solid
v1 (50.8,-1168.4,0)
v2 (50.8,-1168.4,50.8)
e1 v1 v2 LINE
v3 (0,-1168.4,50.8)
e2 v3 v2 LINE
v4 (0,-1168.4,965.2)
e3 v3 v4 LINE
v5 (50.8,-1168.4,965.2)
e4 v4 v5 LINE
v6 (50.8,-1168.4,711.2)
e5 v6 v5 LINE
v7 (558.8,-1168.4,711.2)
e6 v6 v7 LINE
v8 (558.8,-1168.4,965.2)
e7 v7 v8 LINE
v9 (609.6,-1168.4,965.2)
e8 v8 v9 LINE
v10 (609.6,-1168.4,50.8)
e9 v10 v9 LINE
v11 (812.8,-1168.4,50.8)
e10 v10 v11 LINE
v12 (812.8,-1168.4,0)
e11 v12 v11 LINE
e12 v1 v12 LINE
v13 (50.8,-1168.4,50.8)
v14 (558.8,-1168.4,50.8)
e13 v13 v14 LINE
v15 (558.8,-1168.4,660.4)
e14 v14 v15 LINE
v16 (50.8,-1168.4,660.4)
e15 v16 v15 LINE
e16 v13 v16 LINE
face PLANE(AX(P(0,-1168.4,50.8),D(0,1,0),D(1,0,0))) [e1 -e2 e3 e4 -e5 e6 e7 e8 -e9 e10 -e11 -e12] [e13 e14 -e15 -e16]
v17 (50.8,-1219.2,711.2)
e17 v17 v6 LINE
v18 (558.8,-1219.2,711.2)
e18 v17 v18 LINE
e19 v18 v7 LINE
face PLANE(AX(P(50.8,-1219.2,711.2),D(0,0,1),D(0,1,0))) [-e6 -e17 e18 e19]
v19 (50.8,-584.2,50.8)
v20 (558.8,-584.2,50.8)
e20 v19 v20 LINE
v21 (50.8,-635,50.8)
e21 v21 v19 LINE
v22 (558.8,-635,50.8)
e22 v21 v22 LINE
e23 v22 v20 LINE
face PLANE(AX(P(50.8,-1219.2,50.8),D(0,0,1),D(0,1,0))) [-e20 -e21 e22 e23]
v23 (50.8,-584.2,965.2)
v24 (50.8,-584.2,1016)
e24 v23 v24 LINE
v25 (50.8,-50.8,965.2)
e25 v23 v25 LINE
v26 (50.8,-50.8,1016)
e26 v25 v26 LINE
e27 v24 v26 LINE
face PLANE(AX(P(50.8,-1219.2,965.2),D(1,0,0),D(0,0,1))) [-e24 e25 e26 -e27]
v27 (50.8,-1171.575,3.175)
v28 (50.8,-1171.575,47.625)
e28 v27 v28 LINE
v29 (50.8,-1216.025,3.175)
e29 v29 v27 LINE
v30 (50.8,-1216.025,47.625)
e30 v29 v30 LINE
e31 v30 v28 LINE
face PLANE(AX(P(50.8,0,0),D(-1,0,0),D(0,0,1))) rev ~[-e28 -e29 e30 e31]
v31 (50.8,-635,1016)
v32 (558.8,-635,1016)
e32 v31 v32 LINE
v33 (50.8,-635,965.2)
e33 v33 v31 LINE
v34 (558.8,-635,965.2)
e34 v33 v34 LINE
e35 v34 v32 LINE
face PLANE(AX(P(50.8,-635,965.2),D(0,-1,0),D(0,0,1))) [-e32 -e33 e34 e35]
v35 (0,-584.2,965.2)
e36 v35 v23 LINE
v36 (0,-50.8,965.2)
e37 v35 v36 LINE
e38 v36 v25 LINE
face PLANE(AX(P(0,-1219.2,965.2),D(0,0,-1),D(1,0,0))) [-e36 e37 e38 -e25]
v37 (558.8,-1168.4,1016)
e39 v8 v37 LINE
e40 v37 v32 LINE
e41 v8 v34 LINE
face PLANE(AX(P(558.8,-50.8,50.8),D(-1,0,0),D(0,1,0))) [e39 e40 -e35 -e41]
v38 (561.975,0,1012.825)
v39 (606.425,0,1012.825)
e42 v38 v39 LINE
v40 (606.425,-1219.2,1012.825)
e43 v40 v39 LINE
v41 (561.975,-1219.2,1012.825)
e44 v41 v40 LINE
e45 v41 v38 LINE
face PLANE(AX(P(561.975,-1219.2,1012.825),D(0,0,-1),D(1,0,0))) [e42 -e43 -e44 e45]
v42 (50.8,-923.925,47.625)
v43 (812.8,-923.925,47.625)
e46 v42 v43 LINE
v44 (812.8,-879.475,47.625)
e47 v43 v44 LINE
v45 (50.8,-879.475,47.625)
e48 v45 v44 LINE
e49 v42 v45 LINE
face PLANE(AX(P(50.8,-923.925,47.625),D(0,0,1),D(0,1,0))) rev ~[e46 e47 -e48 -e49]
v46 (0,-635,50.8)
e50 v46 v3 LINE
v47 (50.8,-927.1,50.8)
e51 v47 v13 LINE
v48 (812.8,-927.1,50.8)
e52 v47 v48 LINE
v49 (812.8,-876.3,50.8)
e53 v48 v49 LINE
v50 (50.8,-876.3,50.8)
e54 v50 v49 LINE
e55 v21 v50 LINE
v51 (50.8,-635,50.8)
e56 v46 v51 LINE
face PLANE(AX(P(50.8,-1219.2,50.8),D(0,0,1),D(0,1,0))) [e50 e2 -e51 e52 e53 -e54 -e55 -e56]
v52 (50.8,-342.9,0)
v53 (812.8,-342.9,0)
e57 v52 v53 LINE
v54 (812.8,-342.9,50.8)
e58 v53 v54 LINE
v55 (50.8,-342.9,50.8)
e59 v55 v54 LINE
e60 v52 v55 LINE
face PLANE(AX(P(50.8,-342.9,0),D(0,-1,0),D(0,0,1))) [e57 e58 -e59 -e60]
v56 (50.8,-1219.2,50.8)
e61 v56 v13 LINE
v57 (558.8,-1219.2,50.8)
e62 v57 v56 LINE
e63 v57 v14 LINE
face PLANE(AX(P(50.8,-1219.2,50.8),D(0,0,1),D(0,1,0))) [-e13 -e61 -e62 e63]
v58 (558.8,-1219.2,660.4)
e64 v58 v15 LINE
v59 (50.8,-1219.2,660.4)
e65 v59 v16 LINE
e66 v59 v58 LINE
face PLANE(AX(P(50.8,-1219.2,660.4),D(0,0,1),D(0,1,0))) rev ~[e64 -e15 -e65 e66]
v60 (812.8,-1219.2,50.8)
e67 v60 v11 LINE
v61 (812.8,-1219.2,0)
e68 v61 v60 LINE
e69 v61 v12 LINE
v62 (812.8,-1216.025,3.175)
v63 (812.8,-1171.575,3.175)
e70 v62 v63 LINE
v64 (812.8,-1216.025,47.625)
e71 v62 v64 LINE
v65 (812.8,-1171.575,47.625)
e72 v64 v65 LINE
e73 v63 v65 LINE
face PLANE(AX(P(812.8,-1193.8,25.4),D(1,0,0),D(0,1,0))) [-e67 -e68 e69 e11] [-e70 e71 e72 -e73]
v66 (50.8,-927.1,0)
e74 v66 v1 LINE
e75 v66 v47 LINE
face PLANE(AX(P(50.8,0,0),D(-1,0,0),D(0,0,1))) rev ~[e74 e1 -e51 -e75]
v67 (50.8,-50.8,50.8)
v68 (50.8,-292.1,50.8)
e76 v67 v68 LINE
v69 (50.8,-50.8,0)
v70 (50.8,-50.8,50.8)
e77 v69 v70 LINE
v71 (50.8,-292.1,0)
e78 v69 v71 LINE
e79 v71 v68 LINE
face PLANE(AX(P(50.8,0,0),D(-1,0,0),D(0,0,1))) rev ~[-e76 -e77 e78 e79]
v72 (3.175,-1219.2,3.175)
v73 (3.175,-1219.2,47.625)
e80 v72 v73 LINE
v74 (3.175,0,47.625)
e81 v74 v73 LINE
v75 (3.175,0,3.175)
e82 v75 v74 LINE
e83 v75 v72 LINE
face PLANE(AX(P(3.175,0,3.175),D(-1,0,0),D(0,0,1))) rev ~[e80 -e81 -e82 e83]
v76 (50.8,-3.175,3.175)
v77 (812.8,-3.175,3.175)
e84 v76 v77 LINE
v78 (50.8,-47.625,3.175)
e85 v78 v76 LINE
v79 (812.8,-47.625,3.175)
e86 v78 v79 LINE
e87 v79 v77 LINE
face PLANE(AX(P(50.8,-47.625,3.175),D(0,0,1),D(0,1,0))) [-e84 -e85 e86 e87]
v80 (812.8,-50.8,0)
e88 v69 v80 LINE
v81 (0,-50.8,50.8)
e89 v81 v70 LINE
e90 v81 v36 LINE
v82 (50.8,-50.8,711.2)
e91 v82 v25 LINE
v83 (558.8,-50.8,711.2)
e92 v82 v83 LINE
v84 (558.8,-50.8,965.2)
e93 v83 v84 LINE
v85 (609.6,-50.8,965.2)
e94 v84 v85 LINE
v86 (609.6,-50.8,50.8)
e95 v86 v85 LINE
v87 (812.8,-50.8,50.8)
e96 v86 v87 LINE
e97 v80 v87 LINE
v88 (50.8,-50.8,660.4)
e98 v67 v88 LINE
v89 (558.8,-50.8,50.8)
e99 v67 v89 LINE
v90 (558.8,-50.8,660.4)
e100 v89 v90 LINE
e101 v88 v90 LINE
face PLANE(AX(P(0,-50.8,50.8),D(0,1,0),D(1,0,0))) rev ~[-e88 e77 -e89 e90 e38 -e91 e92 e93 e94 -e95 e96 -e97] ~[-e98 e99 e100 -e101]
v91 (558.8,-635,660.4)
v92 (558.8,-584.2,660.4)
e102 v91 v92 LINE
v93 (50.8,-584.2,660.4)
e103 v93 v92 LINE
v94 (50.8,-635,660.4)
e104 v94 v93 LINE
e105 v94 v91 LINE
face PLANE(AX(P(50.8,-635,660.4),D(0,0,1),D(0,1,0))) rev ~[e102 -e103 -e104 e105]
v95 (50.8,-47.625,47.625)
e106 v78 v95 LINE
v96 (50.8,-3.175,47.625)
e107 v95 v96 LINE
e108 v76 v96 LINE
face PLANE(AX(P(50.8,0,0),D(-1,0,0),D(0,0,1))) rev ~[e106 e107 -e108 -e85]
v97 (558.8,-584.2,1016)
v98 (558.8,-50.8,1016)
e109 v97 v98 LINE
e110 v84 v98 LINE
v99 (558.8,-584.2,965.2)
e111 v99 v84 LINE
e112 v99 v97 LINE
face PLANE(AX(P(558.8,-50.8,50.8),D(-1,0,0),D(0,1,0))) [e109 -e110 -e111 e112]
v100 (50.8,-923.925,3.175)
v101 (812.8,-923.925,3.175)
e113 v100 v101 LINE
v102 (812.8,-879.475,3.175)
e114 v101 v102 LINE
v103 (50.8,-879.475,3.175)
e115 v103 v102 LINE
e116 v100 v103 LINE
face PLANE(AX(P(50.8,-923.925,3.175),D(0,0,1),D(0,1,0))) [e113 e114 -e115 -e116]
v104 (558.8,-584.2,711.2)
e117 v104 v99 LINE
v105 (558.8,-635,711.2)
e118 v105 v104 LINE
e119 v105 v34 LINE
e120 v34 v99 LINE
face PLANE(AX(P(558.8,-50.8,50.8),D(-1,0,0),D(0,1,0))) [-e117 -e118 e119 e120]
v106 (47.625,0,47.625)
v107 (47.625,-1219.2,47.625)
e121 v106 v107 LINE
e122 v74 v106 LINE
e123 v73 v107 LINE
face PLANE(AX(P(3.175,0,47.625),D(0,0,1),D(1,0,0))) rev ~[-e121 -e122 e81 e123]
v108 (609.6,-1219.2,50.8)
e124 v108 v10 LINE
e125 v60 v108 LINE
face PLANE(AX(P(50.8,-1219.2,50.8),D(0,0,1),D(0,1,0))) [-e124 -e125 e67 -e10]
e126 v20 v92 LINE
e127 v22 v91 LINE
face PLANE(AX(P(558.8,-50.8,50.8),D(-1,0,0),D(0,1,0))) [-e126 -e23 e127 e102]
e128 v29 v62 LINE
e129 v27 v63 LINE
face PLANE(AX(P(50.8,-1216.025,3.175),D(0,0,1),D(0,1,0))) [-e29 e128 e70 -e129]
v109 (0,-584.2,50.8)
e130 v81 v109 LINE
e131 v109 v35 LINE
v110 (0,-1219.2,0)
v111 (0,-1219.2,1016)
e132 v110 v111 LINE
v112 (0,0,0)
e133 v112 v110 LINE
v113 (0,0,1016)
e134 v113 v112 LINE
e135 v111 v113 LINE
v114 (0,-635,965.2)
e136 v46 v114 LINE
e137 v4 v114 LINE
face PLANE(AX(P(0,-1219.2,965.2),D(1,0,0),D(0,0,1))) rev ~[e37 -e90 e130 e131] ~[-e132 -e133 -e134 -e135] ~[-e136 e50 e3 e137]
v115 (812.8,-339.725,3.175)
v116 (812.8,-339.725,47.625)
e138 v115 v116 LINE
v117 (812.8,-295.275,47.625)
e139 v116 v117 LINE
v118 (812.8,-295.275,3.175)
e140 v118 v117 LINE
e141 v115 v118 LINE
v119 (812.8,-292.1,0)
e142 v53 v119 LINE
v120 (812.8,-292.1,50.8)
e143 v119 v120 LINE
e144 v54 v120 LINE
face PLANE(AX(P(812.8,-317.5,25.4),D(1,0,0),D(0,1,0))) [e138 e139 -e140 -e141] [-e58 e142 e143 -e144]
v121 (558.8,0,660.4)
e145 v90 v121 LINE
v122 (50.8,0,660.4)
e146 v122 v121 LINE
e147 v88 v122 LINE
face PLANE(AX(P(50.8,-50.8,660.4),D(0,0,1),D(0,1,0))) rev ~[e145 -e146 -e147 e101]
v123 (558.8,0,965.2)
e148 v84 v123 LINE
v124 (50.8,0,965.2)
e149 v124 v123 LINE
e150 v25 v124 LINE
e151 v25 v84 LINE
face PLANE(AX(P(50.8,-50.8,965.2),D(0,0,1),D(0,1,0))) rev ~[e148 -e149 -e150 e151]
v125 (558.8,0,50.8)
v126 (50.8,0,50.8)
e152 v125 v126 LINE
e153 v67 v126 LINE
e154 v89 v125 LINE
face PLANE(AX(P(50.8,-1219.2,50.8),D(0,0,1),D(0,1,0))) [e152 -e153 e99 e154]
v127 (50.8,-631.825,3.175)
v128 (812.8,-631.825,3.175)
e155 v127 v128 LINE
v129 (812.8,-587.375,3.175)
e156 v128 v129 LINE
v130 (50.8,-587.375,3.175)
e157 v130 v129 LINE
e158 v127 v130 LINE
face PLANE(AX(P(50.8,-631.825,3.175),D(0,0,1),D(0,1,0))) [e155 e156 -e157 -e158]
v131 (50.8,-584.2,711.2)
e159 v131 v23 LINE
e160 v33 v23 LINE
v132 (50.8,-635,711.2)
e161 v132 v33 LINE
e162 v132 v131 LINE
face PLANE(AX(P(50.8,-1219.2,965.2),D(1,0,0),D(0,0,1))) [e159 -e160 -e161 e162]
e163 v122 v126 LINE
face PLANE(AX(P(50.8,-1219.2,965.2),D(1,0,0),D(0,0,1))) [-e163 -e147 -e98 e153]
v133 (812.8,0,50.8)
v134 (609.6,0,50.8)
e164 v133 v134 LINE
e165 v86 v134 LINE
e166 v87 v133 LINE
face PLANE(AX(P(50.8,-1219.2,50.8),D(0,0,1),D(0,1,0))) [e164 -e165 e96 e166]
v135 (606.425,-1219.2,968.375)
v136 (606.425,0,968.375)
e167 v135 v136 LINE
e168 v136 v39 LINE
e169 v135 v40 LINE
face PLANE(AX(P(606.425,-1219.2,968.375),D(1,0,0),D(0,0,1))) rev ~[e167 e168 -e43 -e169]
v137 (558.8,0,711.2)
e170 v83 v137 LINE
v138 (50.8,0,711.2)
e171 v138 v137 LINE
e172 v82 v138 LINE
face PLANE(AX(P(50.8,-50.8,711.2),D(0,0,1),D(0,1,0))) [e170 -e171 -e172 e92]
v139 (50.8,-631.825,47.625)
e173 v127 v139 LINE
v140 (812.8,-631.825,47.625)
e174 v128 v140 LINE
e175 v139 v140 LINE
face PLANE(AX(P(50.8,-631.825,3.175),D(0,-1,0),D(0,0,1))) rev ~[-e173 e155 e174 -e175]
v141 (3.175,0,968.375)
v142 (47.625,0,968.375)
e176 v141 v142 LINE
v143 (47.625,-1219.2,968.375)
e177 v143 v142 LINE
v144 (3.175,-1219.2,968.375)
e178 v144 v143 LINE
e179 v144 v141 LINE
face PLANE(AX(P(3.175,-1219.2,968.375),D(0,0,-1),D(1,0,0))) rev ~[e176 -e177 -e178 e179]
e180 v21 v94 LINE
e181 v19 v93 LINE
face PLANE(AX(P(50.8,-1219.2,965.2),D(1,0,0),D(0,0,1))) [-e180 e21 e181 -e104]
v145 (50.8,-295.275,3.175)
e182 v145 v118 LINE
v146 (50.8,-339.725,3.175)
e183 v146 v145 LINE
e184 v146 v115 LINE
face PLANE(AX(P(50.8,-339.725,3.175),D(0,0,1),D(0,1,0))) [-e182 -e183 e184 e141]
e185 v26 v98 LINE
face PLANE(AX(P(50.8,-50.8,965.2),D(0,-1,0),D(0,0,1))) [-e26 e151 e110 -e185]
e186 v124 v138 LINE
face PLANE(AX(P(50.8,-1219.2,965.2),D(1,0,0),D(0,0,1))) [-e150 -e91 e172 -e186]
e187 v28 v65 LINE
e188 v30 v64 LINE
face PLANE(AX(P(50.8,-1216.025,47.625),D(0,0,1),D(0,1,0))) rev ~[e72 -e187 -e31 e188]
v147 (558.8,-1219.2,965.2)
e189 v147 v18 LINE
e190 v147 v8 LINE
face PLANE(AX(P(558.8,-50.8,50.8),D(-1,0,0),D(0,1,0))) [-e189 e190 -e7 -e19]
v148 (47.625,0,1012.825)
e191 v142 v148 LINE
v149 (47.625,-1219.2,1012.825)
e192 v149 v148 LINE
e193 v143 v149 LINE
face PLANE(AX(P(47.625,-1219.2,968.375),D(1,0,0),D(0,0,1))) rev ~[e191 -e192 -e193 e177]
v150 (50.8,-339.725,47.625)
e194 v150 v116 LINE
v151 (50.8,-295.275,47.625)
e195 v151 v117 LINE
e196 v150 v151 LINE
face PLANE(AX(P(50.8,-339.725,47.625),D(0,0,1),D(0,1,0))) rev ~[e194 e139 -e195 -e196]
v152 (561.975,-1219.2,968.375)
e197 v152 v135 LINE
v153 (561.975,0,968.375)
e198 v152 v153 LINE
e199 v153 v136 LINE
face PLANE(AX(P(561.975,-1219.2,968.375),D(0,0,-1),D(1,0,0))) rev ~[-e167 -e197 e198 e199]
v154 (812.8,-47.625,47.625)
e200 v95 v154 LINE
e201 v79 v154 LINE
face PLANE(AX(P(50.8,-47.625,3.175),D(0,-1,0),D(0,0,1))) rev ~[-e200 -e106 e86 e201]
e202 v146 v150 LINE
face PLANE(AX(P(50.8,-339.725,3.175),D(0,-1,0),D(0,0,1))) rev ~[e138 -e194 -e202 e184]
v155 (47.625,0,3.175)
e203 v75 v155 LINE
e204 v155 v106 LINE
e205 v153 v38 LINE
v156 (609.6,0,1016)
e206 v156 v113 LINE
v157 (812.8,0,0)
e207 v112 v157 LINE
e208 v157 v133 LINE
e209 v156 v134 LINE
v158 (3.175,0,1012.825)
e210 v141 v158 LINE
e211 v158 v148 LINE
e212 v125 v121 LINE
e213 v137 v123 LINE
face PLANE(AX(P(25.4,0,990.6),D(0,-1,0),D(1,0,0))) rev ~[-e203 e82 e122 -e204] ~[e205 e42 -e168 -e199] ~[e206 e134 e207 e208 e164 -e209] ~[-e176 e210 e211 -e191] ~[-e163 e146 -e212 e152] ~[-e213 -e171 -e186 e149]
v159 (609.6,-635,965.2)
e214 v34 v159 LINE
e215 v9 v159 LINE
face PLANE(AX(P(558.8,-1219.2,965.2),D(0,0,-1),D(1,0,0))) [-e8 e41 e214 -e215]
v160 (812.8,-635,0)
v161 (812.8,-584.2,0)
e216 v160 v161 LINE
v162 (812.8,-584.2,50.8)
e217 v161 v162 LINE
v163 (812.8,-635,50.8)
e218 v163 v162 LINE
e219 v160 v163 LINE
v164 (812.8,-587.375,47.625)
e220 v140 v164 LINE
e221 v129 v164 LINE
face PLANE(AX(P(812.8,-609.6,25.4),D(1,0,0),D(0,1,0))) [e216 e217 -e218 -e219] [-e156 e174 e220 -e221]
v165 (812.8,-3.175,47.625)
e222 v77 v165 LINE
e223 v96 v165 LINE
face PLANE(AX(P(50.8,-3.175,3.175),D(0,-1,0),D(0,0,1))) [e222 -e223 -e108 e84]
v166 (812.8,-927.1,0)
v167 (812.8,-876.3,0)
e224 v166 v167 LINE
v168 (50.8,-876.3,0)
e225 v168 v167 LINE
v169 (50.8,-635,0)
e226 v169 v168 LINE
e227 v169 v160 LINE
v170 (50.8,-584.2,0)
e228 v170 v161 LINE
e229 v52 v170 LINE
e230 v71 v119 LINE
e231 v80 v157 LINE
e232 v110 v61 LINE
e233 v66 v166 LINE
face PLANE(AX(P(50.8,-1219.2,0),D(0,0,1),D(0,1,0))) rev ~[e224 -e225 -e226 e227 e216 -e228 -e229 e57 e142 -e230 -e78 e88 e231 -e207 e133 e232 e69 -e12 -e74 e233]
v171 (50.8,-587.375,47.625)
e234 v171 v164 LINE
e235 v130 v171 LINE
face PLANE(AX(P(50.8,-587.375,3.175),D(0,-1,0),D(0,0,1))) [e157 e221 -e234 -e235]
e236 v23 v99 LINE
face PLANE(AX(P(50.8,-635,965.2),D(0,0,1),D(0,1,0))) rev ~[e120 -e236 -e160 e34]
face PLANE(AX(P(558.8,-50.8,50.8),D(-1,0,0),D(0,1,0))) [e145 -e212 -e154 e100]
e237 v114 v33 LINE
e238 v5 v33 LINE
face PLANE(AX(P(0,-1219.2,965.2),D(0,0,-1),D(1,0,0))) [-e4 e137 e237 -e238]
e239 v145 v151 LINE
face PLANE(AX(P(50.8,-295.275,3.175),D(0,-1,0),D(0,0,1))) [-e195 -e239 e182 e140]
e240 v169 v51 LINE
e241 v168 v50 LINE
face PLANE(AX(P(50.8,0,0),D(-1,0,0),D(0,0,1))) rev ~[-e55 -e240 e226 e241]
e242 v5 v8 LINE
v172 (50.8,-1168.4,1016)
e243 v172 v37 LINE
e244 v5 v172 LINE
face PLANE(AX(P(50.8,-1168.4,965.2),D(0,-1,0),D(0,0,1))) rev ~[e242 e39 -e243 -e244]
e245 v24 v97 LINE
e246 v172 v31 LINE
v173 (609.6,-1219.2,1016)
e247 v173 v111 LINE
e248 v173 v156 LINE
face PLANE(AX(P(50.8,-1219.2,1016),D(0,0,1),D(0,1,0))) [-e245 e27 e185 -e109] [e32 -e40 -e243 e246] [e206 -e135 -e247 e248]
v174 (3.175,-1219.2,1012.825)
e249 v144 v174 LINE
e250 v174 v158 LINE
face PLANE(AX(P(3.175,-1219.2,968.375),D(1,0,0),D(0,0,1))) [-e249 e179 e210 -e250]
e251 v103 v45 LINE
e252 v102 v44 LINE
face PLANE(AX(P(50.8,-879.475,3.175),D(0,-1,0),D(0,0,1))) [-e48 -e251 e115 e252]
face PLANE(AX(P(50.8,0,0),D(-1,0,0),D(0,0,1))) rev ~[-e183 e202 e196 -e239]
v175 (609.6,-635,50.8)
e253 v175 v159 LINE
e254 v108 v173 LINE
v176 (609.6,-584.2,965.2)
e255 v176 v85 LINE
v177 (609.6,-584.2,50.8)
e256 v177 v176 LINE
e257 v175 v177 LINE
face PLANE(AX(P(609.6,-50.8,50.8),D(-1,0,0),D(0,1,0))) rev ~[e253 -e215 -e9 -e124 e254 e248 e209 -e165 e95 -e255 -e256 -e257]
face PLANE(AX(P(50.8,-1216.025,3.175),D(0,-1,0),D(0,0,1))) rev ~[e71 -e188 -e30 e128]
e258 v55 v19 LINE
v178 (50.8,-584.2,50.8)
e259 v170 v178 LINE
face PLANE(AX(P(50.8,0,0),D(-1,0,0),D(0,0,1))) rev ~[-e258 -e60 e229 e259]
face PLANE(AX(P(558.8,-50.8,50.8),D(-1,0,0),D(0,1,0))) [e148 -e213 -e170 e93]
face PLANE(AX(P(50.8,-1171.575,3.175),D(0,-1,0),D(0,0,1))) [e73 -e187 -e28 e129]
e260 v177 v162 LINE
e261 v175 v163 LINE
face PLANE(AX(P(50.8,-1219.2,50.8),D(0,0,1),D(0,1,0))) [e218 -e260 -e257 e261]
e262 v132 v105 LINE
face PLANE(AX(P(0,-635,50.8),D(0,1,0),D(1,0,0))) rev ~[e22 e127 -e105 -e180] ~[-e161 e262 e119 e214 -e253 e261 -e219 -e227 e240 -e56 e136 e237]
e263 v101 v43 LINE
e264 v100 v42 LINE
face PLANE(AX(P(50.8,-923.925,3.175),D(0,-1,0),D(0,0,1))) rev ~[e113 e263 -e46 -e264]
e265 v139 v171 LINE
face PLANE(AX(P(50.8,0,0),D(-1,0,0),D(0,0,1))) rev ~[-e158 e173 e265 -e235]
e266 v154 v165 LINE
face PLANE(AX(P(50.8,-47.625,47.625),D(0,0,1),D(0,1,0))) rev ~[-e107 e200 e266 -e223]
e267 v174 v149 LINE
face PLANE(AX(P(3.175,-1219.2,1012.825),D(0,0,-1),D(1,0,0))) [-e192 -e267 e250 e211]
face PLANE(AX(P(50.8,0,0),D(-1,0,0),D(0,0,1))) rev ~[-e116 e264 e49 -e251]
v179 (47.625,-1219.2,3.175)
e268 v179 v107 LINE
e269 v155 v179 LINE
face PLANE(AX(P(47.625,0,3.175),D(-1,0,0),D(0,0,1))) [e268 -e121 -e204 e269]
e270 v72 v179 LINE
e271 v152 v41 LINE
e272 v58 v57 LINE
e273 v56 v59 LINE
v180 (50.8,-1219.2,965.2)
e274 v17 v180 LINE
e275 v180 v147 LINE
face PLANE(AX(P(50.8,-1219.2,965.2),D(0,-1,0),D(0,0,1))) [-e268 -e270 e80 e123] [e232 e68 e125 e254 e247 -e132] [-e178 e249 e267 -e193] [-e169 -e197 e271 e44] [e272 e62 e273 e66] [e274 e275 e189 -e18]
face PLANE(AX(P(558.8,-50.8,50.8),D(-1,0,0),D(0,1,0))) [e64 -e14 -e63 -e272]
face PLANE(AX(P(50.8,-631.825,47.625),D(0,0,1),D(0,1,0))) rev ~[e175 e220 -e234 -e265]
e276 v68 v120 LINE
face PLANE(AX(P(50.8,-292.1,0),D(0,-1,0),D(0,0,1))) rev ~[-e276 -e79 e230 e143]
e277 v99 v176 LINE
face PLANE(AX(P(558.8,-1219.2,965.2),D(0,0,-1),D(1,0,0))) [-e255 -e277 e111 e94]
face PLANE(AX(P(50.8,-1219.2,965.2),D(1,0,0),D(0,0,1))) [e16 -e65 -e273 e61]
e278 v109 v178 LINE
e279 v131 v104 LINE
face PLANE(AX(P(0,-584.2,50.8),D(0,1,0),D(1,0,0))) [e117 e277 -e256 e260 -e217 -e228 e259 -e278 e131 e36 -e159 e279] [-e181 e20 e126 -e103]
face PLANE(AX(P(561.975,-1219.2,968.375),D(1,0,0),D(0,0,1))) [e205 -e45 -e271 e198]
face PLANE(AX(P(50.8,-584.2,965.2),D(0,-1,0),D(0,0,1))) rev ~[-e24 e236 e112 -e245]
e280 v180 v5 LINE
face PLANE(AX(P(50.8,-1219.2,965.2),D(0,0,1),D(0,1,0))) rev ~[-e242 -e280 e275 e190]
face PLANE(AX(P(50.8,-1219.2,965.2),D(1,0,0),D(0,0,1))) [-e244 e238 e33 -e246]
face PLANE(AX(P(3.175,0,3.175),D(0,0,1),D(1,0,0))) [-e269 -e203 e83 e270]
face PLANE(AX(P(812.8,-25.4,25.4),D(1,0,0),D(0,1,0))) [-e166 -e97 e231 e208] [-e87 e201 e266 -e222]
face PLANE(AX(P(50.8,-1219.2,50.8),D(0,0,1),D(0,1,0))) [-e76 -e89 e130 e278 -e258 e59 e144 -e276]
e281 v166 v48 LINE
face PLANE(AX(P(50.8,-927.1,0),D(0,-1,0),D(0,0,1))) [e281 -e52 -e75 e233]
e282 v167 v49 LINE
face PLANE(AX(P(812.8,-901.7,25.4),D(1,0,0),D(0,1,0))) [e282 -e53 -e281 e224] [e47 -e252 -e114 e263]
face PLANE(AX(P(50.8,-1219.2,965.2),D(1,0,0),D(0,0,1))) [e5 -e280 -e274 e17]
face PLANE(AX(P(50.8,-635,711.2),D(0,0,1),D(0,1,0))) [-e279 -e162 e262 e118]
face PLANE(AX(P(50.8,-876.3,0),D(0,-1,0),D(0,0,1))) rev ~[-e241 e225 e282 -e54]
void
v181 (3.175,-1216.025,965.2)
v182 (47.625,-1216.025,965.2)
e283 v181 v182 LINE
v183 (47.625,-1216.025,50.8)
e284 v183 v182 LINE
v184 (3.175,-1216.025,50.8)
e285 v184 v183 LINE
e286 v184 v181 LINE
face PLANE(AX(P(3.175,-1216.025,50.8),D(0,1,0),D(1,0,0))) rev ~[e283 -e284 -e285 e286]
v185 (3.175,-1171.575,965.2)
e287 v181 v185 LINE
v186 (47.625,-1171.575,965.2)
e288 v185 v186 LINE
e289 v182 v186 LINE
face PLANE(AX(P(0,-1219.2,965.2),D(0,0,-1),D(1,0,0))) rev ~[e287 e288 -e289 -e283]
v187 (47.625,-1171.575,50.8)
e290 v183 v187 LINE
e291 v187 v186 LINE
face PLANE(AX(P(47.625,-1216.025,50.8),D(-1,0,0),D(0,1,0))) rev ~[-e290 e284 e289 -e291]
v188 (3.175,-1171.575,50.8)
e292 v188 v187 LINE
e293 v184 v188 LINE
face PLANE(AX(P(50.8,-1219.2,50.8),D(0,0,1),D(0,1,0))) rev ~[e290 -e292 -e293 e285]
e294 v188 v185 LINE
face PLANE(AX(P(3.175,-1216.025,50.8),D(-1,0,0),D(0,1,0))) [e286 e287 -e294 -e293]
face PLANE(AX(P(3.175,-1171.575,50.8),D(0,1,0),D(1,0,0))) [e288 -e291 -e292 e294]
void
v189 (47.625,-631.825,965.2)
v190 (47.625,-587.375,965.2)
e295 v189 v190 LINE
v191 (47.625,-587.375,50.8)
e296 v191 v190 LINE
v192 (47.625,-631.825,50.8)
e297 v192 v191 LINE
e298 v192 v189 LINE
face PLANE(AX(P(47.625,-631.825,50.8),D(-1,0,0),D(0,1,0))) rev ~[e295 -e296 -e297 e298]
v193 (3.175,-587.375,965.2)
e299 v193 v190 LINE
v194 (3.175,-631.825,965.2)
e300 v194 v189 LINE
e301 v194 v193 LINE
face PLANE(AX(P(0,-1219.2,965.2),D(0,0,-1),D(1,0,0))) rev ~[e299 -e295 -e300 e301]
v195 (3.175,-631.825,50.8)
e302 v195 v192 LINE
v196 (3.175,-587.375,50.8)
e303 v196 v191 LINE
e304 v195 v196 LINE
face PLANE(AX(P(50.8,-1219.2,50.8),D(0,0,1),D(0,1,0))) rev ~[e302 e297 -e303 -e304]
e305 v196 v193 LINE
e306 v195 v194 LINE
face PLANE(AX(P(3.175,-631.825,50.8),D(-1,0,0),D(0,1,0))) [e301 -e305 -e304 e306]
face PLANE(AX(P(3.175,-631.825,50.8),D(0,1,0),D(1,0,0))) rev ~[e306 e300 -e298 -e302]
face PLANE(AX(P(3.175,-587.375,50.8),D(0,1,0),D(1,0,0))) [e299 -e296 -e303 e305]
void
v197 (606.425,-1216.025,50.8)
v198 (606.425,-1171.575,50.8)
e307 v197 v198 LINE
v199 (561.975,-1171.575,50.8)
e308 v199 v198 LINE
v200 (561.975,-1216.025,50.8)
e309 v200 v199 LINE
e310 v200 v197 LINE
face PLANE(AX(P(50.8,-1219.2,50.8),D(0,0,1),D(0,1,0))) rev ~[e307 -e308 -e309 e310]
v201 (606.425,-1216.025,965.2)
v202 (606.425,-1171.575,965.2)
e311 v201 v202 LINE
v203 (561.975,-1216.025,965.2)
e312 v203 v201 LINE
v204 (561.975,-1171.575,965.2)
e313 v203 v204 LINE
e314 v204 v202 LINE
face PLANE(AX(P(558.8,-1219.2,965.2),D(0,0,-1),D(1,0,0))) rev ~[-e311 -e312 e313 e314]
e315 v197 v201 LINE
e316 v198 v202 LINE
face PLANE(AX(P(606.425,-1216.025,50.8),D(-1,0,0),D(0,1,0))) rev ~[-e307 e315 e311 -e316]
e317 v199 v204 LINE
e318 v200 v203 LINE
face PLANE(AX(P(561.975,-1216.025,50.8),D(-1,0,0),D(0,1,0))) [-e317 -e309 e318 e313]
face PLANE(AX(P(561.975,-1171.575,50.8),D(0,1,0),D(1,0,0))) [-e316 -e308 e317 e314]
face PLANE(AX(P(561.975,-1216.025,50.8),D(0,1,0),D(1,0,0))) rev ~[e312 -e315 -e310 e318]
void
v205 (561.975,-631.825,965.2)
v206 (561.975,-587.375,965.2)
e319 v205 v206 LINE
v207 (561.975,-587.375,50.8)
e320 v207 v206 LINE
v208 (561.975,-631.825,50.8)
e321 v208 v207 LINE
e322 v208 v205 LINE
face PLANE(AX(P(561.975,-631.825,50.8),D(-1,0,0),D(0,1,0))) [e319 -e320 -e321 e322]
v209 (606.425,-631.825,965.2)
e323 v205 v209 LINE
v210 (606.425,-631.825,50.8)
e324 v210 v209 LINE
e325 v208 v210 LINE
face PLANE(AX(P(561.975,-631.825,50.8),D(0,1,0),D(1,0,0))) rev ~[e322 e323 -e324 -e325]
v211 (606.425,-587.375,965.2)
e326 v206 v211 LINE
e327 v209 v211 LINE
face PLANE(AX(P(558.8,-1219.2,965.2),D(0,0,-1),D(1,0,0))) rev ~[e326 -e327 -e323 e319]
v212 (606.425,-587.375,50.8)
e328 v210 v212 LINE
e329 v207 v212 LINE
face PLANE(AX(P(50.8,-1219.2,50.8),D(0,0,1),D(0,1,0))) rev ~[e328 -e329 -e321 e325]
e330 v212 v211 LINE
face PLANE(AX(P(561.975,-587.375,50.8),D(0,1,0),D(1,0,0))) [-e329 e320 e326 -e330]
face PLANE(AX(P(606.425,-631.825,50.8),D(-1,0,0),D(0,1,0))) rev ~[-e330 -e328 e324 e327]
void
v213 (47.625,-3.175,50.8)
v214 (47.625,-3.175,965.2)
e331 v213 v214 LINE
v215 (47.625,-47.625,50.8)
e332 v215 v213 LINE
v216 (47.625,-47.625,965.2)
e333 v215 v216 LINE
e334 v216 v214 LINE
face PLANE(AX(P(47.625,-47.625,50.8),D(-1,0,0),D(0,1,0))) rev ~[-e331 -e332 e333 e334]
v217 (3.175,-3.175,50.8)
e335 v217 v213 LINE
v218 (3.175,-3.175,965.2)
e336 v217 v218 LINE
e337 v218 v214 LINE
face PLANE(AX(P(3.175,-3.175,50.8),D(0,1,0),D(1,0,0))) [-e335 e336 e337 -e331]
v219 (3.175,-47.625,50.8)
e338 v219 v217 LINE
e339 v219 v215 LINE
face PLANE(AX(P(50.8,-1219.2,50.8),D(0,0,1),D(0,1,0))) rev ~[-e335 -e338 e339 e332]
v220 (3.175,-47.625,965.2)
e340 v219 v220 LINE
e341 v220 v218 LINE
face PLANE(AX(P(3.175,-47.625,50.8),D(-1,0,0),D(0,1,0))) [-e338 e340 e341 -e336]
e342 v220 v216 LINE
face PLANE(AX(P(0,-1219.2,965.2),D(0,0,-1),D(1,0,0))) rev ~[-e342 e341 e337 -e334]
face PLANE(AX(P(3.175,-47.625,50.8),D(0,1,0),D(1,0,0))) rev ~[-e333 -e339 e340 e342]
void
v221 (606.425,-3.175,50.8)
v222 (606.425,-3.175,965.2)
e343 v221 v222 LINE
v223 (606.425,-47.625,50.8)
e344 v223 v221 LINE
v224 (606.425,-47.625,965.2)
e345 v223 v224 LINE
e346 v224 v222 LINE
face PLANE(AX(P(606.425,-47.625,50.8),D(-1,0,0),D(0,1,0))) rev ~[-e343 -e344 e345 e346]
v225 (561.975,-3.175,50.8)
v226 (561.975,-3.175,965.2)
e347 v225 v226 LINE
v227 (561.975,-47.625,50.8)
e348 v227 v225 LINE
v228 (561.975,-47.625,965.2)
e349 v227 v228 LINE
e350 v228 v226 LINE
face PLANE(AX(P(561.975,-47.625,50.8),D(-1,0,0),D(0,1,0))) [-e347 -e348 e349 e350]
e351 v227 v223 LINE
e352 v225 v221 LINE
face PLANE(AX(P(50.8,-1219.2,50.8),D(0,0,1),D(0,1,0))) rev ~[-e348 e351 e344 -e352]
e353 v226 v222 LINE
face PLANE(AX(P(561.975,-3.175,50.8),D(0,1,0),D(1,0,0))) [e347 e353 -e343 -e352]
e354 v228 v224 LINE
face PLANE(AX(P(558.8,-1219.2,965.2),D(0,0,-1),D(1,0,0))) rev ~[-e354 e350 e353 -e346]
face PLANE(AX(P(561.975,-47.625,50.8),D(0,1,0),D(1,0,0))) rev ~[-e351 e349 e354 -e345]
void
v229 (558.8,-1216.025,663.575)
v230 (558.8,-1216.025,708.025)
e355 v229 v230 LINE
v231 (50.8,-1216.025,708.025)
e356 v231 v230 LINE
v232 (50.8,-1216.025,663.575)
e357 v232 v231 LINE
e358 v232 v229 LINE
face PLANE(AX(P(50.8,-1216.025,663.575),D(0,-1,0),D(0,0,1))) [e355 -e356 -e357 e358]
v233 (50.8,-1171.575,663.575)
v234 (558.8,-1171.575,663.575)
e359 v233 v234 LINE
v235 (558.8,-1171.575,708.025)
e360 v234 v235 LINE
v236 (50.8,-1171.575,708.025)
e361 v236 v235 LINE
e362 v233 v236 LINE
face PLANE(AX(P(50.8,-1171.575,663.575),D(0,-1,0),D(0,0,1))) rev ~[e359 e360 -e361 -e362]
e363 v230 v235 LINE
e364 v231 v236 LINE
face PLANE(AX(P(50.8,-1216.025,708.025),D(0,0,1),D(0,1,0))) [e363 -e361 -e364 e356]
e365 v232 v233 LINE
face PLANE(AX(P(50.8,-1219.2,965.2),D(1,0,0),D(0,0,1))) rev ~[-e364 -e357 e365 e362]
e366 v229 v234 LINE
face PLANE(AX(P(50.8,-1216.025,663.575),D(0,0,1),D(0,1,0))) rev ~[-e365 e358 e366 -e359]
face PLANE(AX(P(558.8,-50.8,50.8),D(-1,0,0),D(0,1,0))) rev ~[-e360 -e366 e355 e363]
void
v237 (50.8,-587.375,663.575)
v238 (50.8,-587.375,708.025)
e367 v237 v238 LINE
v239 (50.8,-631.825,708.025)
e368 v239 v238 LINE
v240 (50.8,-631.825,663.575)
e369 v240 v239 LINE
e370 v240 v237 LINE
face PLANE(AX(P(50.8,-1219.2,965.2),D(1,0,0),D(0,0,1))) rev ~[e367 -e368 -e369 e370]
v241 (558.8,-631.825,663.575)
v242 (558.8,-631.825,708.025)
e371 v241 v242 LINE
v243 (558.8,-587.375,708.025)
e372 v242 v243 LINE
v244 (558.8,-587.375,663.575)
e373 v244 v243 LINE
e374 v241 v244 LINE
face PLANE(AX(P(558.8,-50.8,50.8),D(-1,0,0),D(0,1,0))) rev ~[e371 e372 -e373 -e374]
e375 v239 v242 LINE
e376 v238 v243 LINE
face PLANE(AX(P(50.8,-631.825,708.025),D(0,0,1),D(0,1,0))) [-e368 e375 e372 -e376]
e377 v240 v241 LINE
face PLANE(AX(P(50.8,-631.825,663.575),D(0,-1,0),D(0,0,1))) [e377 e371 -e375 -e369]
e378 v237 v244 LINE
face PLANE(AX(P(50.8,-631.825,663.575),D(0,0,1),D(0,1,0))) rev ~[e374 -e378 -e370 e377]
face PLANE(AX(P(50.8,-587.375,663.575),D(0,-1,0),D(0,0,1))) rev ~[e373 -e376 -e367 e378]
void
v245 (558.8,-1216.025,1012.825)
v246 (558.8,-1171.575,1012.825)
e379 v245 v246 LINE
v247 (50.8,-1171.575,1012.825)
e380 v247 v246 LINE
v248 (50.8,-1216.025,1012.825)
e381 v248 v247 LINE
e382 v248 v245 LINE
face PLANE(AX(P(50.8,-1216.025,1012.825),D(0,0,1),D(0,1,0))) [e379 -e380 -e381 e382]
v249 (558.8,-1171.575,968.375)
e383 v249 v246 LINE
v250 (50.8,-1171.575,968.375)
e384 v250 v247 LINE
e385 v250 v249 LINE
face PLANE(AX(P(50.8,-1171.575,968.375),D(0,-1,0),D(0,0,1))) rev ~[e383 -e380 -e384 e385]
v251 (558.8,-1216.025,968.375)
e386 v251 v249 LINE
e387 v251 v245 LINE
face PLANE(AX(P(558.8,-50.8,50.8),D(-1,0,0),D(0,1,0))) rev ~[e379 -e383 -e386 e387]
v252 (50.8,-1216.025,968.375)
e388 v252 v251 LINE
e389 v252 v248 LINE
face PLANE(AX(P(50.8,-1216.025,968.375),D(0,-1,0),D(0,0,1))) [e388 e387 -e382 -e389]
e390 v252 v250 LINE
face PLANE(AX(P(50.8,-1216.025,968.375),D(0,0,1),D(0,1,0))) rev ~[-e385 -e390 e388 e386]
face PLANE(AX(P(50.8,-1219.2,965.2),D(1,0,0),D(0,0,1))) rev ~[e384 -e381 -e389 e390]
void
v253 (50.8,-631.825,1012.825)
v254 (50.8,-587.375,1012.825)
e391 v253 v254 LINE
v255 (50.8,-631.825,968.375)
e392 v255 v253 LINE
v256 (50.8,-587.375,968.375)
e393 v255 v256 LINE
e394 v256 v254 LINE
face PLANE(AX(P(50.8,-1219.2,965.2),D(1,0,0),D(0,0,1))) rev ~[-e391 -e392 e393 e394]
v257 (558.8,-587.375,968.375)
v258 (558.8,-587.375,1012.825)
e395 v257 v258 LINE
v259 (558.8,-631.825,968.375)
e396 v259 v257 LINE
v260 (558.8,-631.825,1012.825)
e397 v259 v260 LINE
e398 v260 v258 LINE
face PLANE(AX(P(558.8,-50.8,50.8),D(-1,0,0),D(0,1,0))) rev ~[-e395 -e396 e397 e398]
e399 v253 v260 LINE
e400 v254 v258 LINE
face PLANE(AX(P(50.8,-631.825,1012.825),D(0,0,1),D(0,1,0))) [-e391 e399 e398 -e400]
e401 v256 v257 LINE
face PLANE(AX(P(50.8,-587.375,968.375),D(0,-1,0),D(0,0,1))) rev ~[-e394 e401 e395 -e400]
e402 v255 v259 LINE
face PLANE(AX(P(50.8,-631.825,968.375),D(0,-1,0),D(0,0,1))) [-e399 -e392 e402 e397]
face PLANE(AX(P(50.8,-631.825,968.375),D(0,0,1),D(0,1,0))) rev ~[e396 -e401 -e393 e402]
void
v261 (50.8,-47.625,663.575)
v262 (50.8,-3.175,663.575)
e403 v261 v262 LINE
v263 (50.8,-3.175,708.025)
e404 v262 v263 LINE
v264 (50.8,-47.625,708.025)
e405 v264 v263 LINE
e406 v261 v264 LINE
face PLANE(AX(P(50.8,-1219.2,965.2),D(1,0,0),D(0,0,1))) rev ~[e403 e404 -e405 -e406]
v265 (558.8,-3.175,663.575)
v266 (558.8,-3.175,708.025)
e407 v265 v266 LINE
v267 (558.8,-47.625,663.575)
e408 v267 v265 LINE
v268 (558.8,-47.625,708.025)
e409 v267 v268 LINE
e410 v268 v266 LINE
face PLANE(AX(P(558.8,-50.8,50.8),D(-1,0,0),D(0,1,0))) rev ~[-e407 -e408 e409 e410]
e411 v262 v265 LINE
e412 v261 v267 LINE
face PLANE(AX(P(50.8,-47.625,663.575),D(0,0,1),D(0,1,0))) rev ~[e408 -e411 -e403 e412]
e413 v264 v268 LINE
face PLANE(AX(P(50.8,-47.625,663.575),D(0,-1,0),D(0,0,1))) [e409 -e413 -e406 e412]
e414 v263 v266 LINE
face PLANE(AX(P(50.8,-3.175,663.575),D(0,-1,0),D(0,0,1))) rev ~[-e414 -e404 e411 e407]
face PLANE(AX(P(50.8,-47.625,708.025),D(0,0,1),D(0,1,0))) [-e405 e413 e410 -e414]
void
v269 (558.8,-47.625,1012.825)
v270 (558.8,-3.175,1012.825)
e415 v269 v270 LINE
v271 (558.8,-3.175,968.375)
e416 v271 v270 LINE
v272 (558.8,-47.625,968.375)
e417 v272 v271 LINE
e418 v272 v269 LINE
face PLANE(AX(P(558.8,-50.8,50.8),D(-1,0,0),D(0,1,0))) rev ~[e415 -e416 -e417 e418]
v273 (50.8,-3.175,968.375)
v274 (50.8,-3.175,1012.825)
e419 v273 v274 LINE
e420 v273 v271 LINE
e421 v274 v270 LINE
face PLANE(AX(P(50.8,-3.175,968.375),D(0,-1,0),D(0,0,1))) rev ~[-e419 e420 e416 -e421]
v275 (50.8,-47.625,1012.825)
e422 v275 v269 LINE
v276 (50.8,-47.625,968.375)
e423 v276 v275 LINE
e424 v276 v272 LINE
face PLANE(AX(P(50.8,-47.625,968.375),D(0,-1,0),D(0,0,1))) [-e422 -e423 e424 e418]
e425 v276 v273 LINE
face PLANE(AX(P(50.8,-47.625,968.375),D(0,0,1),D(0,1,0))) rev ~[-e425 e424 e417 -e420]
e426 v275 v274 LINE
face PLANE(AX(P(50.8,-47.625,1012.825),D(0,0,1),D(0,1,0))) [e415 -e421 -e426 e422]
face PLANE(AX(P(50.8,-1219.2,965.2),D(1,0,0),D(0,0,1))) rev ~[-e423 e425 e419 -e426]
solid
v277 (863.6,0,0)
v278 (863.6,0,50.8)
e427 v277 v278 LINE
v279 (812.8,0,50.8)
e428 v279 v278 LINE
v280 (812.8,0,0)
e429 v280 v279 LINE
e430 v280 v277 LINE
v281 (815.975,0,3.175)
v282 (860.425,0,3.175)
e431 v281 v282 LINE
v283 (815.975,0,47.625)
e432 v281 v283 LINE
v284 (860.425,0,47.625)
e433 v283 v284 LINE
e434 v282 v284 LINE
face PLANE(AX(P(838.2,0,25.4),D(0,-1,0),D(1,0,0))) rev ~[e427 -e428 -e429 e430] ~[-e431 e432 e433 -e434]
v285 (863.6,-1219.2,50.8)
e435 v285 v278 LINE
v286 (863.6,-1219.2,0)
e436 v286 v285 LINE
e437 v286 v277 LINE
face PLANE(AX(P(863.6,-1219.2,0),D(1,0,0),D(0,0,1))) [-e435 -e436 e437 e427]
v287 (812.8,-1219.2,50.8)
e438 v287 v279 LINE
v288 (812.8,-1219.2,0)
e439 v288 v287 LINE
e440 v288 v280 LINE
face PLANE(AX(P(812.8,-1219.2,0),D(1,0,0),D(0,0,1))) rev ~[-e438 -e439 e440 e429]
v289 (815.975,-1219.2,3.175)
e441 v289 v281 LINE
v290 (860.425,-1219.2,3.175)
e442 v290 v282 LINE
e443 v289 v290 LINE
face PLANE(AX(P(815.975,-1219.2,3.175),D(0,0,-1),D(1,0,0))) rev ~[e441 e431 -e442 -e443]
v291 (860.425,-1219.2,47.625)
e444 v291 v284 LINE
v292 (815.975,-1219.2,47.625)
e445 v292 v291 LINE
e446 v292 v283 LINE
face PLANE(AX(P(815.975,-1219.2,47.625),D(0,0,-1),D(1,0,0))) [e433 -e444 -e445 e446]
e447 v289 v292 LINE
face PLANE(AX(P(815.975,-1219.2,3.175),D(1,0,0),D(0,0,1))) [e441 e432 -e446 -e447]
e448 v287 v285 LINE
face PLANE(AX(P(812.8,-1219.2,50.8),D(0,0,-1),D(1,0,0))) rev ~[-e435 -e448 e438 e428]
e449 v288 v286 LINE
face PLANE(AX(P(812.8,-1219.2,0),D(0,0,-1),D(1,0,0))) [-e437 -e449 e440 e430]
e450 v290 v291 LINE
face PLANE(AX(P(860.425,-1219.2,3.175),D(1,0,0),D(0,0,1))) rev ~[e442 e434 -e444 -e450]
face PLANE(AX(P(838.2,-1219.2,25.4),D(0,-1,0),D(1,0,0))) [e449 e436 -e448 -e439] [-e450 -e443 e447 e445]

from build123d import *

# Parameters (mm, degrees)
F0_W      = 50.8
F0_H      = 50.8
F0_W_2    = 44.45
F0_H_2    = 44.45
F1_DEPTH  = 1219.2
F2_W      = 50.8
F2_H      = 50.8
F2_W_2    = 44.45
F2_H_2    = 44.45
F3_DEPTH  = 762
F4_W      = 50.8
F4_H      = 50.8
F4_W_2    = 44.45
F4_H_2    = 44.45
F5_DEPTH  = 1219.2
F6_W      = 50.8
F6_H      = 50.8
F6_W_2    = 44.45
F6_H_2    = 44.45
F7_DEPTH  = 914.4
F8_W      = 50.8
F8_H      = 50.8
F8_W_2    = 44.45
F8_H_2    = 44.45
F9_DEPTH  = 1219.2
F10_W     = 50.8
F10_H     = 50.8
F10_W_2   = 44.45
F10_H_2   = 44.45
F11_DEPTH = 508


with BuildPart() as f1:
    # F0 (on Front) → F1 (new body)
    with BuildSketch(Plane.XZ):
        with Locations((25.4, 25.4)):
            Rectangle(F0_W, F0_H)
        with Locations((25.4, 25.4)):
            Rectangle(F0_W_2, F0_H_2, mode=Mode.SUBTRACT)
    extrude(amount=F1_DEPTH)

    # F2 (on face) → F3 (join)
    with BuildSketch(Plane.YZ.offset(50.8)):
        with Locations((-1193.8, 25.4)):
            Rectangle(F2_W, F2_H)
        with Locations((-1193.8, 25.4)):
            Rectangle(F2_W_2, F2_H_2, mode=Mode.SUBTRACT)
        with Locations((-901.7, 25.4)):
            Rectangle(F2_W, F2_H)
        with Locations((-901.7, 25.4)):
            Rectangle(F2_W_2, F2_H_2, mode=Mode.SUBTRACT)
        with Locations((-609.6, 25.4)):
            Rectangle(F2_W, F2_H)
        with Locations((-609.6, 25.4)):
            Rectangle(F2_W_2, F2_H_2, mode=Mode.SUBTRACT)
        with Locations((-317.5, 25.4)):
            Rectangle(F2_W, F2_H)
        with Locations((-317.5, 25.4)):
            Rectangle(F2_W_2, F2_H_2, mode=Mode.SUBTRACT)
        with Locations((-25.4, 25.4)):
            Rectangle(F2_W, F2_H)
        with Locations((-25.4, 25.4)):
            Rectangle(F2_W_2, F2_H_2, mode=Mode.SUBTRACT)
    extrude(amount=F3_DEPTH)

    # F6 (on face) → F7 (join)
    with BuildSketch(Plane.XY.offset(50.8)):
        with Locations((25.4, -1193.8)):
            Rectangle(F6_W, F6_H)
        with Locations((25.4, -1193.8)):
            Rectangle(F6_W_2, F6_H_2, mode=Mode.SUBTRACT)
        with Locations((25.4, -25.4)):
            Rectangle(F6_W, F6_H)
        with Locations((25.4, -25.4)):
            Rectangle(F6_W_2, F6_H_2, mode=Mode.SUBTRACT)
        with Locations((25.4, -609.6)):
            Rectangle(F6_W, F6_H)
        with Locations((25.4, -609.6)):
            Rectangle(F6_W_2, F6_H_2, mode=Mode.SUBTRACT)
        with Locations((584.2, -1193.8)):
            Rectangle(F6_W, F6_H)
        with Locations((584.2, -1193.8)):
            Rectangle(F6_W_2, F6_H_2, mode=Mode.SUBTRACT)
        with Locations((584.2, -25.4)):
            Rectangle(F6_W, F6_H)
        with Locations((584.2, -25.4)):
            Rectangle(F6_W_2, F6_H_2, mode=Mode.SUBTRACT)
        with Locations((584.2, -609.6)):
            Rectangle(F6_W, F6_H)
        with Locations((584.2, -609.6)):
            Rectangle(F6_W_2, F6_H_2, mode=Mode.SUBTRACT)
    extrude(amount=F7_DEPTH)

    # F8 (on face) → F9 (join)
    with BuildSketch(Plane.XZ.offset(1219.2)):
        with Locations((25.4, 990.6)):
            Rectangle(F8_W, F8_H)
        with Locations((25.4, 990.6)):
            Rectangle(F8_W_2, F8_H_2, mode=Mode.SUBTRACT)
        with Locations((584.2, 990.6)):
            Rectangle(F8_W, F8_H)
        with Locations((584.2, 990.6)):
            Rectangle(F8_W_2, F8_H_2, mode=Mode.SUBTRACT)
    extrude(amount=-F9_DEPTH)

    # F10 (on face) → F11 (join)
    with BuildSketch(Plane.YZ.offset(50.8)):
        with Locations((-1193.8, 685.8)):
            Rectangle(F10_W, F10_H)
        with Locations((-1193.8, 685.8)):
            Rectangle(F10_W_2, F10_H_2, mode=Mode.SUBTRACT)
        with Locations((-1193.8, 990.6)):
            Rectangle(F10_W, F10_H)
        with Locations((-1193.8, 990.6)):
            Rectangle(F10_W_2, F10_H_2, mode=Mode.SUBTRACT)
        with Locations((-609.6, 685.8)):
            Rectangle(F10_W, F10_H)
        with Locations((-609.6, 685.8)):
            Rectangle(F10_W_2, F10_H_2, mode=Mode.SUBTRACT)
        with Locations((-609.6, 990.6)):
            Rectangle(F10_W, F10_H)
        with Locations((-609.6, 990.6)):
            Rectangle(F10_W_2, F10_H_2, mode=Mode.SUBTRACT)
        with Locations((-25.4, 685.8)):
            Rectangle(F10_W, F10_H)
        with Locations((-25.4, 685.8)):
            Rectangle(F10_W_2, F10_H_2, mode=Mode.SUBTRACT)
        with Locations((-25.4, 990.6)):
            Rectangle(F10_W, F10_H)
        with Locations((-25.4, 990.6)):
            Rectangle(F10_W_2, F10_H_2, mode=Mode.SUBTRACT)
    extrude(amount=F11_DEPTH)


with BuildPart() as f5:
    # F4 (on face) → F5 (new body)
    with BuildSketch(Plane.XZ.offset(1219.2)):
        with Locations((838.2, 25.4)):
            Rectangle(F4_W, F4_H)
        with Locations((838.2, 25.4)):
            Rectangle(F4_W_2, F4_H_2, mode=Mode.SUBTRACT)
    extrude(amount=-F5_DEPTH)


solid = Compound([f1.part, f5.part])
